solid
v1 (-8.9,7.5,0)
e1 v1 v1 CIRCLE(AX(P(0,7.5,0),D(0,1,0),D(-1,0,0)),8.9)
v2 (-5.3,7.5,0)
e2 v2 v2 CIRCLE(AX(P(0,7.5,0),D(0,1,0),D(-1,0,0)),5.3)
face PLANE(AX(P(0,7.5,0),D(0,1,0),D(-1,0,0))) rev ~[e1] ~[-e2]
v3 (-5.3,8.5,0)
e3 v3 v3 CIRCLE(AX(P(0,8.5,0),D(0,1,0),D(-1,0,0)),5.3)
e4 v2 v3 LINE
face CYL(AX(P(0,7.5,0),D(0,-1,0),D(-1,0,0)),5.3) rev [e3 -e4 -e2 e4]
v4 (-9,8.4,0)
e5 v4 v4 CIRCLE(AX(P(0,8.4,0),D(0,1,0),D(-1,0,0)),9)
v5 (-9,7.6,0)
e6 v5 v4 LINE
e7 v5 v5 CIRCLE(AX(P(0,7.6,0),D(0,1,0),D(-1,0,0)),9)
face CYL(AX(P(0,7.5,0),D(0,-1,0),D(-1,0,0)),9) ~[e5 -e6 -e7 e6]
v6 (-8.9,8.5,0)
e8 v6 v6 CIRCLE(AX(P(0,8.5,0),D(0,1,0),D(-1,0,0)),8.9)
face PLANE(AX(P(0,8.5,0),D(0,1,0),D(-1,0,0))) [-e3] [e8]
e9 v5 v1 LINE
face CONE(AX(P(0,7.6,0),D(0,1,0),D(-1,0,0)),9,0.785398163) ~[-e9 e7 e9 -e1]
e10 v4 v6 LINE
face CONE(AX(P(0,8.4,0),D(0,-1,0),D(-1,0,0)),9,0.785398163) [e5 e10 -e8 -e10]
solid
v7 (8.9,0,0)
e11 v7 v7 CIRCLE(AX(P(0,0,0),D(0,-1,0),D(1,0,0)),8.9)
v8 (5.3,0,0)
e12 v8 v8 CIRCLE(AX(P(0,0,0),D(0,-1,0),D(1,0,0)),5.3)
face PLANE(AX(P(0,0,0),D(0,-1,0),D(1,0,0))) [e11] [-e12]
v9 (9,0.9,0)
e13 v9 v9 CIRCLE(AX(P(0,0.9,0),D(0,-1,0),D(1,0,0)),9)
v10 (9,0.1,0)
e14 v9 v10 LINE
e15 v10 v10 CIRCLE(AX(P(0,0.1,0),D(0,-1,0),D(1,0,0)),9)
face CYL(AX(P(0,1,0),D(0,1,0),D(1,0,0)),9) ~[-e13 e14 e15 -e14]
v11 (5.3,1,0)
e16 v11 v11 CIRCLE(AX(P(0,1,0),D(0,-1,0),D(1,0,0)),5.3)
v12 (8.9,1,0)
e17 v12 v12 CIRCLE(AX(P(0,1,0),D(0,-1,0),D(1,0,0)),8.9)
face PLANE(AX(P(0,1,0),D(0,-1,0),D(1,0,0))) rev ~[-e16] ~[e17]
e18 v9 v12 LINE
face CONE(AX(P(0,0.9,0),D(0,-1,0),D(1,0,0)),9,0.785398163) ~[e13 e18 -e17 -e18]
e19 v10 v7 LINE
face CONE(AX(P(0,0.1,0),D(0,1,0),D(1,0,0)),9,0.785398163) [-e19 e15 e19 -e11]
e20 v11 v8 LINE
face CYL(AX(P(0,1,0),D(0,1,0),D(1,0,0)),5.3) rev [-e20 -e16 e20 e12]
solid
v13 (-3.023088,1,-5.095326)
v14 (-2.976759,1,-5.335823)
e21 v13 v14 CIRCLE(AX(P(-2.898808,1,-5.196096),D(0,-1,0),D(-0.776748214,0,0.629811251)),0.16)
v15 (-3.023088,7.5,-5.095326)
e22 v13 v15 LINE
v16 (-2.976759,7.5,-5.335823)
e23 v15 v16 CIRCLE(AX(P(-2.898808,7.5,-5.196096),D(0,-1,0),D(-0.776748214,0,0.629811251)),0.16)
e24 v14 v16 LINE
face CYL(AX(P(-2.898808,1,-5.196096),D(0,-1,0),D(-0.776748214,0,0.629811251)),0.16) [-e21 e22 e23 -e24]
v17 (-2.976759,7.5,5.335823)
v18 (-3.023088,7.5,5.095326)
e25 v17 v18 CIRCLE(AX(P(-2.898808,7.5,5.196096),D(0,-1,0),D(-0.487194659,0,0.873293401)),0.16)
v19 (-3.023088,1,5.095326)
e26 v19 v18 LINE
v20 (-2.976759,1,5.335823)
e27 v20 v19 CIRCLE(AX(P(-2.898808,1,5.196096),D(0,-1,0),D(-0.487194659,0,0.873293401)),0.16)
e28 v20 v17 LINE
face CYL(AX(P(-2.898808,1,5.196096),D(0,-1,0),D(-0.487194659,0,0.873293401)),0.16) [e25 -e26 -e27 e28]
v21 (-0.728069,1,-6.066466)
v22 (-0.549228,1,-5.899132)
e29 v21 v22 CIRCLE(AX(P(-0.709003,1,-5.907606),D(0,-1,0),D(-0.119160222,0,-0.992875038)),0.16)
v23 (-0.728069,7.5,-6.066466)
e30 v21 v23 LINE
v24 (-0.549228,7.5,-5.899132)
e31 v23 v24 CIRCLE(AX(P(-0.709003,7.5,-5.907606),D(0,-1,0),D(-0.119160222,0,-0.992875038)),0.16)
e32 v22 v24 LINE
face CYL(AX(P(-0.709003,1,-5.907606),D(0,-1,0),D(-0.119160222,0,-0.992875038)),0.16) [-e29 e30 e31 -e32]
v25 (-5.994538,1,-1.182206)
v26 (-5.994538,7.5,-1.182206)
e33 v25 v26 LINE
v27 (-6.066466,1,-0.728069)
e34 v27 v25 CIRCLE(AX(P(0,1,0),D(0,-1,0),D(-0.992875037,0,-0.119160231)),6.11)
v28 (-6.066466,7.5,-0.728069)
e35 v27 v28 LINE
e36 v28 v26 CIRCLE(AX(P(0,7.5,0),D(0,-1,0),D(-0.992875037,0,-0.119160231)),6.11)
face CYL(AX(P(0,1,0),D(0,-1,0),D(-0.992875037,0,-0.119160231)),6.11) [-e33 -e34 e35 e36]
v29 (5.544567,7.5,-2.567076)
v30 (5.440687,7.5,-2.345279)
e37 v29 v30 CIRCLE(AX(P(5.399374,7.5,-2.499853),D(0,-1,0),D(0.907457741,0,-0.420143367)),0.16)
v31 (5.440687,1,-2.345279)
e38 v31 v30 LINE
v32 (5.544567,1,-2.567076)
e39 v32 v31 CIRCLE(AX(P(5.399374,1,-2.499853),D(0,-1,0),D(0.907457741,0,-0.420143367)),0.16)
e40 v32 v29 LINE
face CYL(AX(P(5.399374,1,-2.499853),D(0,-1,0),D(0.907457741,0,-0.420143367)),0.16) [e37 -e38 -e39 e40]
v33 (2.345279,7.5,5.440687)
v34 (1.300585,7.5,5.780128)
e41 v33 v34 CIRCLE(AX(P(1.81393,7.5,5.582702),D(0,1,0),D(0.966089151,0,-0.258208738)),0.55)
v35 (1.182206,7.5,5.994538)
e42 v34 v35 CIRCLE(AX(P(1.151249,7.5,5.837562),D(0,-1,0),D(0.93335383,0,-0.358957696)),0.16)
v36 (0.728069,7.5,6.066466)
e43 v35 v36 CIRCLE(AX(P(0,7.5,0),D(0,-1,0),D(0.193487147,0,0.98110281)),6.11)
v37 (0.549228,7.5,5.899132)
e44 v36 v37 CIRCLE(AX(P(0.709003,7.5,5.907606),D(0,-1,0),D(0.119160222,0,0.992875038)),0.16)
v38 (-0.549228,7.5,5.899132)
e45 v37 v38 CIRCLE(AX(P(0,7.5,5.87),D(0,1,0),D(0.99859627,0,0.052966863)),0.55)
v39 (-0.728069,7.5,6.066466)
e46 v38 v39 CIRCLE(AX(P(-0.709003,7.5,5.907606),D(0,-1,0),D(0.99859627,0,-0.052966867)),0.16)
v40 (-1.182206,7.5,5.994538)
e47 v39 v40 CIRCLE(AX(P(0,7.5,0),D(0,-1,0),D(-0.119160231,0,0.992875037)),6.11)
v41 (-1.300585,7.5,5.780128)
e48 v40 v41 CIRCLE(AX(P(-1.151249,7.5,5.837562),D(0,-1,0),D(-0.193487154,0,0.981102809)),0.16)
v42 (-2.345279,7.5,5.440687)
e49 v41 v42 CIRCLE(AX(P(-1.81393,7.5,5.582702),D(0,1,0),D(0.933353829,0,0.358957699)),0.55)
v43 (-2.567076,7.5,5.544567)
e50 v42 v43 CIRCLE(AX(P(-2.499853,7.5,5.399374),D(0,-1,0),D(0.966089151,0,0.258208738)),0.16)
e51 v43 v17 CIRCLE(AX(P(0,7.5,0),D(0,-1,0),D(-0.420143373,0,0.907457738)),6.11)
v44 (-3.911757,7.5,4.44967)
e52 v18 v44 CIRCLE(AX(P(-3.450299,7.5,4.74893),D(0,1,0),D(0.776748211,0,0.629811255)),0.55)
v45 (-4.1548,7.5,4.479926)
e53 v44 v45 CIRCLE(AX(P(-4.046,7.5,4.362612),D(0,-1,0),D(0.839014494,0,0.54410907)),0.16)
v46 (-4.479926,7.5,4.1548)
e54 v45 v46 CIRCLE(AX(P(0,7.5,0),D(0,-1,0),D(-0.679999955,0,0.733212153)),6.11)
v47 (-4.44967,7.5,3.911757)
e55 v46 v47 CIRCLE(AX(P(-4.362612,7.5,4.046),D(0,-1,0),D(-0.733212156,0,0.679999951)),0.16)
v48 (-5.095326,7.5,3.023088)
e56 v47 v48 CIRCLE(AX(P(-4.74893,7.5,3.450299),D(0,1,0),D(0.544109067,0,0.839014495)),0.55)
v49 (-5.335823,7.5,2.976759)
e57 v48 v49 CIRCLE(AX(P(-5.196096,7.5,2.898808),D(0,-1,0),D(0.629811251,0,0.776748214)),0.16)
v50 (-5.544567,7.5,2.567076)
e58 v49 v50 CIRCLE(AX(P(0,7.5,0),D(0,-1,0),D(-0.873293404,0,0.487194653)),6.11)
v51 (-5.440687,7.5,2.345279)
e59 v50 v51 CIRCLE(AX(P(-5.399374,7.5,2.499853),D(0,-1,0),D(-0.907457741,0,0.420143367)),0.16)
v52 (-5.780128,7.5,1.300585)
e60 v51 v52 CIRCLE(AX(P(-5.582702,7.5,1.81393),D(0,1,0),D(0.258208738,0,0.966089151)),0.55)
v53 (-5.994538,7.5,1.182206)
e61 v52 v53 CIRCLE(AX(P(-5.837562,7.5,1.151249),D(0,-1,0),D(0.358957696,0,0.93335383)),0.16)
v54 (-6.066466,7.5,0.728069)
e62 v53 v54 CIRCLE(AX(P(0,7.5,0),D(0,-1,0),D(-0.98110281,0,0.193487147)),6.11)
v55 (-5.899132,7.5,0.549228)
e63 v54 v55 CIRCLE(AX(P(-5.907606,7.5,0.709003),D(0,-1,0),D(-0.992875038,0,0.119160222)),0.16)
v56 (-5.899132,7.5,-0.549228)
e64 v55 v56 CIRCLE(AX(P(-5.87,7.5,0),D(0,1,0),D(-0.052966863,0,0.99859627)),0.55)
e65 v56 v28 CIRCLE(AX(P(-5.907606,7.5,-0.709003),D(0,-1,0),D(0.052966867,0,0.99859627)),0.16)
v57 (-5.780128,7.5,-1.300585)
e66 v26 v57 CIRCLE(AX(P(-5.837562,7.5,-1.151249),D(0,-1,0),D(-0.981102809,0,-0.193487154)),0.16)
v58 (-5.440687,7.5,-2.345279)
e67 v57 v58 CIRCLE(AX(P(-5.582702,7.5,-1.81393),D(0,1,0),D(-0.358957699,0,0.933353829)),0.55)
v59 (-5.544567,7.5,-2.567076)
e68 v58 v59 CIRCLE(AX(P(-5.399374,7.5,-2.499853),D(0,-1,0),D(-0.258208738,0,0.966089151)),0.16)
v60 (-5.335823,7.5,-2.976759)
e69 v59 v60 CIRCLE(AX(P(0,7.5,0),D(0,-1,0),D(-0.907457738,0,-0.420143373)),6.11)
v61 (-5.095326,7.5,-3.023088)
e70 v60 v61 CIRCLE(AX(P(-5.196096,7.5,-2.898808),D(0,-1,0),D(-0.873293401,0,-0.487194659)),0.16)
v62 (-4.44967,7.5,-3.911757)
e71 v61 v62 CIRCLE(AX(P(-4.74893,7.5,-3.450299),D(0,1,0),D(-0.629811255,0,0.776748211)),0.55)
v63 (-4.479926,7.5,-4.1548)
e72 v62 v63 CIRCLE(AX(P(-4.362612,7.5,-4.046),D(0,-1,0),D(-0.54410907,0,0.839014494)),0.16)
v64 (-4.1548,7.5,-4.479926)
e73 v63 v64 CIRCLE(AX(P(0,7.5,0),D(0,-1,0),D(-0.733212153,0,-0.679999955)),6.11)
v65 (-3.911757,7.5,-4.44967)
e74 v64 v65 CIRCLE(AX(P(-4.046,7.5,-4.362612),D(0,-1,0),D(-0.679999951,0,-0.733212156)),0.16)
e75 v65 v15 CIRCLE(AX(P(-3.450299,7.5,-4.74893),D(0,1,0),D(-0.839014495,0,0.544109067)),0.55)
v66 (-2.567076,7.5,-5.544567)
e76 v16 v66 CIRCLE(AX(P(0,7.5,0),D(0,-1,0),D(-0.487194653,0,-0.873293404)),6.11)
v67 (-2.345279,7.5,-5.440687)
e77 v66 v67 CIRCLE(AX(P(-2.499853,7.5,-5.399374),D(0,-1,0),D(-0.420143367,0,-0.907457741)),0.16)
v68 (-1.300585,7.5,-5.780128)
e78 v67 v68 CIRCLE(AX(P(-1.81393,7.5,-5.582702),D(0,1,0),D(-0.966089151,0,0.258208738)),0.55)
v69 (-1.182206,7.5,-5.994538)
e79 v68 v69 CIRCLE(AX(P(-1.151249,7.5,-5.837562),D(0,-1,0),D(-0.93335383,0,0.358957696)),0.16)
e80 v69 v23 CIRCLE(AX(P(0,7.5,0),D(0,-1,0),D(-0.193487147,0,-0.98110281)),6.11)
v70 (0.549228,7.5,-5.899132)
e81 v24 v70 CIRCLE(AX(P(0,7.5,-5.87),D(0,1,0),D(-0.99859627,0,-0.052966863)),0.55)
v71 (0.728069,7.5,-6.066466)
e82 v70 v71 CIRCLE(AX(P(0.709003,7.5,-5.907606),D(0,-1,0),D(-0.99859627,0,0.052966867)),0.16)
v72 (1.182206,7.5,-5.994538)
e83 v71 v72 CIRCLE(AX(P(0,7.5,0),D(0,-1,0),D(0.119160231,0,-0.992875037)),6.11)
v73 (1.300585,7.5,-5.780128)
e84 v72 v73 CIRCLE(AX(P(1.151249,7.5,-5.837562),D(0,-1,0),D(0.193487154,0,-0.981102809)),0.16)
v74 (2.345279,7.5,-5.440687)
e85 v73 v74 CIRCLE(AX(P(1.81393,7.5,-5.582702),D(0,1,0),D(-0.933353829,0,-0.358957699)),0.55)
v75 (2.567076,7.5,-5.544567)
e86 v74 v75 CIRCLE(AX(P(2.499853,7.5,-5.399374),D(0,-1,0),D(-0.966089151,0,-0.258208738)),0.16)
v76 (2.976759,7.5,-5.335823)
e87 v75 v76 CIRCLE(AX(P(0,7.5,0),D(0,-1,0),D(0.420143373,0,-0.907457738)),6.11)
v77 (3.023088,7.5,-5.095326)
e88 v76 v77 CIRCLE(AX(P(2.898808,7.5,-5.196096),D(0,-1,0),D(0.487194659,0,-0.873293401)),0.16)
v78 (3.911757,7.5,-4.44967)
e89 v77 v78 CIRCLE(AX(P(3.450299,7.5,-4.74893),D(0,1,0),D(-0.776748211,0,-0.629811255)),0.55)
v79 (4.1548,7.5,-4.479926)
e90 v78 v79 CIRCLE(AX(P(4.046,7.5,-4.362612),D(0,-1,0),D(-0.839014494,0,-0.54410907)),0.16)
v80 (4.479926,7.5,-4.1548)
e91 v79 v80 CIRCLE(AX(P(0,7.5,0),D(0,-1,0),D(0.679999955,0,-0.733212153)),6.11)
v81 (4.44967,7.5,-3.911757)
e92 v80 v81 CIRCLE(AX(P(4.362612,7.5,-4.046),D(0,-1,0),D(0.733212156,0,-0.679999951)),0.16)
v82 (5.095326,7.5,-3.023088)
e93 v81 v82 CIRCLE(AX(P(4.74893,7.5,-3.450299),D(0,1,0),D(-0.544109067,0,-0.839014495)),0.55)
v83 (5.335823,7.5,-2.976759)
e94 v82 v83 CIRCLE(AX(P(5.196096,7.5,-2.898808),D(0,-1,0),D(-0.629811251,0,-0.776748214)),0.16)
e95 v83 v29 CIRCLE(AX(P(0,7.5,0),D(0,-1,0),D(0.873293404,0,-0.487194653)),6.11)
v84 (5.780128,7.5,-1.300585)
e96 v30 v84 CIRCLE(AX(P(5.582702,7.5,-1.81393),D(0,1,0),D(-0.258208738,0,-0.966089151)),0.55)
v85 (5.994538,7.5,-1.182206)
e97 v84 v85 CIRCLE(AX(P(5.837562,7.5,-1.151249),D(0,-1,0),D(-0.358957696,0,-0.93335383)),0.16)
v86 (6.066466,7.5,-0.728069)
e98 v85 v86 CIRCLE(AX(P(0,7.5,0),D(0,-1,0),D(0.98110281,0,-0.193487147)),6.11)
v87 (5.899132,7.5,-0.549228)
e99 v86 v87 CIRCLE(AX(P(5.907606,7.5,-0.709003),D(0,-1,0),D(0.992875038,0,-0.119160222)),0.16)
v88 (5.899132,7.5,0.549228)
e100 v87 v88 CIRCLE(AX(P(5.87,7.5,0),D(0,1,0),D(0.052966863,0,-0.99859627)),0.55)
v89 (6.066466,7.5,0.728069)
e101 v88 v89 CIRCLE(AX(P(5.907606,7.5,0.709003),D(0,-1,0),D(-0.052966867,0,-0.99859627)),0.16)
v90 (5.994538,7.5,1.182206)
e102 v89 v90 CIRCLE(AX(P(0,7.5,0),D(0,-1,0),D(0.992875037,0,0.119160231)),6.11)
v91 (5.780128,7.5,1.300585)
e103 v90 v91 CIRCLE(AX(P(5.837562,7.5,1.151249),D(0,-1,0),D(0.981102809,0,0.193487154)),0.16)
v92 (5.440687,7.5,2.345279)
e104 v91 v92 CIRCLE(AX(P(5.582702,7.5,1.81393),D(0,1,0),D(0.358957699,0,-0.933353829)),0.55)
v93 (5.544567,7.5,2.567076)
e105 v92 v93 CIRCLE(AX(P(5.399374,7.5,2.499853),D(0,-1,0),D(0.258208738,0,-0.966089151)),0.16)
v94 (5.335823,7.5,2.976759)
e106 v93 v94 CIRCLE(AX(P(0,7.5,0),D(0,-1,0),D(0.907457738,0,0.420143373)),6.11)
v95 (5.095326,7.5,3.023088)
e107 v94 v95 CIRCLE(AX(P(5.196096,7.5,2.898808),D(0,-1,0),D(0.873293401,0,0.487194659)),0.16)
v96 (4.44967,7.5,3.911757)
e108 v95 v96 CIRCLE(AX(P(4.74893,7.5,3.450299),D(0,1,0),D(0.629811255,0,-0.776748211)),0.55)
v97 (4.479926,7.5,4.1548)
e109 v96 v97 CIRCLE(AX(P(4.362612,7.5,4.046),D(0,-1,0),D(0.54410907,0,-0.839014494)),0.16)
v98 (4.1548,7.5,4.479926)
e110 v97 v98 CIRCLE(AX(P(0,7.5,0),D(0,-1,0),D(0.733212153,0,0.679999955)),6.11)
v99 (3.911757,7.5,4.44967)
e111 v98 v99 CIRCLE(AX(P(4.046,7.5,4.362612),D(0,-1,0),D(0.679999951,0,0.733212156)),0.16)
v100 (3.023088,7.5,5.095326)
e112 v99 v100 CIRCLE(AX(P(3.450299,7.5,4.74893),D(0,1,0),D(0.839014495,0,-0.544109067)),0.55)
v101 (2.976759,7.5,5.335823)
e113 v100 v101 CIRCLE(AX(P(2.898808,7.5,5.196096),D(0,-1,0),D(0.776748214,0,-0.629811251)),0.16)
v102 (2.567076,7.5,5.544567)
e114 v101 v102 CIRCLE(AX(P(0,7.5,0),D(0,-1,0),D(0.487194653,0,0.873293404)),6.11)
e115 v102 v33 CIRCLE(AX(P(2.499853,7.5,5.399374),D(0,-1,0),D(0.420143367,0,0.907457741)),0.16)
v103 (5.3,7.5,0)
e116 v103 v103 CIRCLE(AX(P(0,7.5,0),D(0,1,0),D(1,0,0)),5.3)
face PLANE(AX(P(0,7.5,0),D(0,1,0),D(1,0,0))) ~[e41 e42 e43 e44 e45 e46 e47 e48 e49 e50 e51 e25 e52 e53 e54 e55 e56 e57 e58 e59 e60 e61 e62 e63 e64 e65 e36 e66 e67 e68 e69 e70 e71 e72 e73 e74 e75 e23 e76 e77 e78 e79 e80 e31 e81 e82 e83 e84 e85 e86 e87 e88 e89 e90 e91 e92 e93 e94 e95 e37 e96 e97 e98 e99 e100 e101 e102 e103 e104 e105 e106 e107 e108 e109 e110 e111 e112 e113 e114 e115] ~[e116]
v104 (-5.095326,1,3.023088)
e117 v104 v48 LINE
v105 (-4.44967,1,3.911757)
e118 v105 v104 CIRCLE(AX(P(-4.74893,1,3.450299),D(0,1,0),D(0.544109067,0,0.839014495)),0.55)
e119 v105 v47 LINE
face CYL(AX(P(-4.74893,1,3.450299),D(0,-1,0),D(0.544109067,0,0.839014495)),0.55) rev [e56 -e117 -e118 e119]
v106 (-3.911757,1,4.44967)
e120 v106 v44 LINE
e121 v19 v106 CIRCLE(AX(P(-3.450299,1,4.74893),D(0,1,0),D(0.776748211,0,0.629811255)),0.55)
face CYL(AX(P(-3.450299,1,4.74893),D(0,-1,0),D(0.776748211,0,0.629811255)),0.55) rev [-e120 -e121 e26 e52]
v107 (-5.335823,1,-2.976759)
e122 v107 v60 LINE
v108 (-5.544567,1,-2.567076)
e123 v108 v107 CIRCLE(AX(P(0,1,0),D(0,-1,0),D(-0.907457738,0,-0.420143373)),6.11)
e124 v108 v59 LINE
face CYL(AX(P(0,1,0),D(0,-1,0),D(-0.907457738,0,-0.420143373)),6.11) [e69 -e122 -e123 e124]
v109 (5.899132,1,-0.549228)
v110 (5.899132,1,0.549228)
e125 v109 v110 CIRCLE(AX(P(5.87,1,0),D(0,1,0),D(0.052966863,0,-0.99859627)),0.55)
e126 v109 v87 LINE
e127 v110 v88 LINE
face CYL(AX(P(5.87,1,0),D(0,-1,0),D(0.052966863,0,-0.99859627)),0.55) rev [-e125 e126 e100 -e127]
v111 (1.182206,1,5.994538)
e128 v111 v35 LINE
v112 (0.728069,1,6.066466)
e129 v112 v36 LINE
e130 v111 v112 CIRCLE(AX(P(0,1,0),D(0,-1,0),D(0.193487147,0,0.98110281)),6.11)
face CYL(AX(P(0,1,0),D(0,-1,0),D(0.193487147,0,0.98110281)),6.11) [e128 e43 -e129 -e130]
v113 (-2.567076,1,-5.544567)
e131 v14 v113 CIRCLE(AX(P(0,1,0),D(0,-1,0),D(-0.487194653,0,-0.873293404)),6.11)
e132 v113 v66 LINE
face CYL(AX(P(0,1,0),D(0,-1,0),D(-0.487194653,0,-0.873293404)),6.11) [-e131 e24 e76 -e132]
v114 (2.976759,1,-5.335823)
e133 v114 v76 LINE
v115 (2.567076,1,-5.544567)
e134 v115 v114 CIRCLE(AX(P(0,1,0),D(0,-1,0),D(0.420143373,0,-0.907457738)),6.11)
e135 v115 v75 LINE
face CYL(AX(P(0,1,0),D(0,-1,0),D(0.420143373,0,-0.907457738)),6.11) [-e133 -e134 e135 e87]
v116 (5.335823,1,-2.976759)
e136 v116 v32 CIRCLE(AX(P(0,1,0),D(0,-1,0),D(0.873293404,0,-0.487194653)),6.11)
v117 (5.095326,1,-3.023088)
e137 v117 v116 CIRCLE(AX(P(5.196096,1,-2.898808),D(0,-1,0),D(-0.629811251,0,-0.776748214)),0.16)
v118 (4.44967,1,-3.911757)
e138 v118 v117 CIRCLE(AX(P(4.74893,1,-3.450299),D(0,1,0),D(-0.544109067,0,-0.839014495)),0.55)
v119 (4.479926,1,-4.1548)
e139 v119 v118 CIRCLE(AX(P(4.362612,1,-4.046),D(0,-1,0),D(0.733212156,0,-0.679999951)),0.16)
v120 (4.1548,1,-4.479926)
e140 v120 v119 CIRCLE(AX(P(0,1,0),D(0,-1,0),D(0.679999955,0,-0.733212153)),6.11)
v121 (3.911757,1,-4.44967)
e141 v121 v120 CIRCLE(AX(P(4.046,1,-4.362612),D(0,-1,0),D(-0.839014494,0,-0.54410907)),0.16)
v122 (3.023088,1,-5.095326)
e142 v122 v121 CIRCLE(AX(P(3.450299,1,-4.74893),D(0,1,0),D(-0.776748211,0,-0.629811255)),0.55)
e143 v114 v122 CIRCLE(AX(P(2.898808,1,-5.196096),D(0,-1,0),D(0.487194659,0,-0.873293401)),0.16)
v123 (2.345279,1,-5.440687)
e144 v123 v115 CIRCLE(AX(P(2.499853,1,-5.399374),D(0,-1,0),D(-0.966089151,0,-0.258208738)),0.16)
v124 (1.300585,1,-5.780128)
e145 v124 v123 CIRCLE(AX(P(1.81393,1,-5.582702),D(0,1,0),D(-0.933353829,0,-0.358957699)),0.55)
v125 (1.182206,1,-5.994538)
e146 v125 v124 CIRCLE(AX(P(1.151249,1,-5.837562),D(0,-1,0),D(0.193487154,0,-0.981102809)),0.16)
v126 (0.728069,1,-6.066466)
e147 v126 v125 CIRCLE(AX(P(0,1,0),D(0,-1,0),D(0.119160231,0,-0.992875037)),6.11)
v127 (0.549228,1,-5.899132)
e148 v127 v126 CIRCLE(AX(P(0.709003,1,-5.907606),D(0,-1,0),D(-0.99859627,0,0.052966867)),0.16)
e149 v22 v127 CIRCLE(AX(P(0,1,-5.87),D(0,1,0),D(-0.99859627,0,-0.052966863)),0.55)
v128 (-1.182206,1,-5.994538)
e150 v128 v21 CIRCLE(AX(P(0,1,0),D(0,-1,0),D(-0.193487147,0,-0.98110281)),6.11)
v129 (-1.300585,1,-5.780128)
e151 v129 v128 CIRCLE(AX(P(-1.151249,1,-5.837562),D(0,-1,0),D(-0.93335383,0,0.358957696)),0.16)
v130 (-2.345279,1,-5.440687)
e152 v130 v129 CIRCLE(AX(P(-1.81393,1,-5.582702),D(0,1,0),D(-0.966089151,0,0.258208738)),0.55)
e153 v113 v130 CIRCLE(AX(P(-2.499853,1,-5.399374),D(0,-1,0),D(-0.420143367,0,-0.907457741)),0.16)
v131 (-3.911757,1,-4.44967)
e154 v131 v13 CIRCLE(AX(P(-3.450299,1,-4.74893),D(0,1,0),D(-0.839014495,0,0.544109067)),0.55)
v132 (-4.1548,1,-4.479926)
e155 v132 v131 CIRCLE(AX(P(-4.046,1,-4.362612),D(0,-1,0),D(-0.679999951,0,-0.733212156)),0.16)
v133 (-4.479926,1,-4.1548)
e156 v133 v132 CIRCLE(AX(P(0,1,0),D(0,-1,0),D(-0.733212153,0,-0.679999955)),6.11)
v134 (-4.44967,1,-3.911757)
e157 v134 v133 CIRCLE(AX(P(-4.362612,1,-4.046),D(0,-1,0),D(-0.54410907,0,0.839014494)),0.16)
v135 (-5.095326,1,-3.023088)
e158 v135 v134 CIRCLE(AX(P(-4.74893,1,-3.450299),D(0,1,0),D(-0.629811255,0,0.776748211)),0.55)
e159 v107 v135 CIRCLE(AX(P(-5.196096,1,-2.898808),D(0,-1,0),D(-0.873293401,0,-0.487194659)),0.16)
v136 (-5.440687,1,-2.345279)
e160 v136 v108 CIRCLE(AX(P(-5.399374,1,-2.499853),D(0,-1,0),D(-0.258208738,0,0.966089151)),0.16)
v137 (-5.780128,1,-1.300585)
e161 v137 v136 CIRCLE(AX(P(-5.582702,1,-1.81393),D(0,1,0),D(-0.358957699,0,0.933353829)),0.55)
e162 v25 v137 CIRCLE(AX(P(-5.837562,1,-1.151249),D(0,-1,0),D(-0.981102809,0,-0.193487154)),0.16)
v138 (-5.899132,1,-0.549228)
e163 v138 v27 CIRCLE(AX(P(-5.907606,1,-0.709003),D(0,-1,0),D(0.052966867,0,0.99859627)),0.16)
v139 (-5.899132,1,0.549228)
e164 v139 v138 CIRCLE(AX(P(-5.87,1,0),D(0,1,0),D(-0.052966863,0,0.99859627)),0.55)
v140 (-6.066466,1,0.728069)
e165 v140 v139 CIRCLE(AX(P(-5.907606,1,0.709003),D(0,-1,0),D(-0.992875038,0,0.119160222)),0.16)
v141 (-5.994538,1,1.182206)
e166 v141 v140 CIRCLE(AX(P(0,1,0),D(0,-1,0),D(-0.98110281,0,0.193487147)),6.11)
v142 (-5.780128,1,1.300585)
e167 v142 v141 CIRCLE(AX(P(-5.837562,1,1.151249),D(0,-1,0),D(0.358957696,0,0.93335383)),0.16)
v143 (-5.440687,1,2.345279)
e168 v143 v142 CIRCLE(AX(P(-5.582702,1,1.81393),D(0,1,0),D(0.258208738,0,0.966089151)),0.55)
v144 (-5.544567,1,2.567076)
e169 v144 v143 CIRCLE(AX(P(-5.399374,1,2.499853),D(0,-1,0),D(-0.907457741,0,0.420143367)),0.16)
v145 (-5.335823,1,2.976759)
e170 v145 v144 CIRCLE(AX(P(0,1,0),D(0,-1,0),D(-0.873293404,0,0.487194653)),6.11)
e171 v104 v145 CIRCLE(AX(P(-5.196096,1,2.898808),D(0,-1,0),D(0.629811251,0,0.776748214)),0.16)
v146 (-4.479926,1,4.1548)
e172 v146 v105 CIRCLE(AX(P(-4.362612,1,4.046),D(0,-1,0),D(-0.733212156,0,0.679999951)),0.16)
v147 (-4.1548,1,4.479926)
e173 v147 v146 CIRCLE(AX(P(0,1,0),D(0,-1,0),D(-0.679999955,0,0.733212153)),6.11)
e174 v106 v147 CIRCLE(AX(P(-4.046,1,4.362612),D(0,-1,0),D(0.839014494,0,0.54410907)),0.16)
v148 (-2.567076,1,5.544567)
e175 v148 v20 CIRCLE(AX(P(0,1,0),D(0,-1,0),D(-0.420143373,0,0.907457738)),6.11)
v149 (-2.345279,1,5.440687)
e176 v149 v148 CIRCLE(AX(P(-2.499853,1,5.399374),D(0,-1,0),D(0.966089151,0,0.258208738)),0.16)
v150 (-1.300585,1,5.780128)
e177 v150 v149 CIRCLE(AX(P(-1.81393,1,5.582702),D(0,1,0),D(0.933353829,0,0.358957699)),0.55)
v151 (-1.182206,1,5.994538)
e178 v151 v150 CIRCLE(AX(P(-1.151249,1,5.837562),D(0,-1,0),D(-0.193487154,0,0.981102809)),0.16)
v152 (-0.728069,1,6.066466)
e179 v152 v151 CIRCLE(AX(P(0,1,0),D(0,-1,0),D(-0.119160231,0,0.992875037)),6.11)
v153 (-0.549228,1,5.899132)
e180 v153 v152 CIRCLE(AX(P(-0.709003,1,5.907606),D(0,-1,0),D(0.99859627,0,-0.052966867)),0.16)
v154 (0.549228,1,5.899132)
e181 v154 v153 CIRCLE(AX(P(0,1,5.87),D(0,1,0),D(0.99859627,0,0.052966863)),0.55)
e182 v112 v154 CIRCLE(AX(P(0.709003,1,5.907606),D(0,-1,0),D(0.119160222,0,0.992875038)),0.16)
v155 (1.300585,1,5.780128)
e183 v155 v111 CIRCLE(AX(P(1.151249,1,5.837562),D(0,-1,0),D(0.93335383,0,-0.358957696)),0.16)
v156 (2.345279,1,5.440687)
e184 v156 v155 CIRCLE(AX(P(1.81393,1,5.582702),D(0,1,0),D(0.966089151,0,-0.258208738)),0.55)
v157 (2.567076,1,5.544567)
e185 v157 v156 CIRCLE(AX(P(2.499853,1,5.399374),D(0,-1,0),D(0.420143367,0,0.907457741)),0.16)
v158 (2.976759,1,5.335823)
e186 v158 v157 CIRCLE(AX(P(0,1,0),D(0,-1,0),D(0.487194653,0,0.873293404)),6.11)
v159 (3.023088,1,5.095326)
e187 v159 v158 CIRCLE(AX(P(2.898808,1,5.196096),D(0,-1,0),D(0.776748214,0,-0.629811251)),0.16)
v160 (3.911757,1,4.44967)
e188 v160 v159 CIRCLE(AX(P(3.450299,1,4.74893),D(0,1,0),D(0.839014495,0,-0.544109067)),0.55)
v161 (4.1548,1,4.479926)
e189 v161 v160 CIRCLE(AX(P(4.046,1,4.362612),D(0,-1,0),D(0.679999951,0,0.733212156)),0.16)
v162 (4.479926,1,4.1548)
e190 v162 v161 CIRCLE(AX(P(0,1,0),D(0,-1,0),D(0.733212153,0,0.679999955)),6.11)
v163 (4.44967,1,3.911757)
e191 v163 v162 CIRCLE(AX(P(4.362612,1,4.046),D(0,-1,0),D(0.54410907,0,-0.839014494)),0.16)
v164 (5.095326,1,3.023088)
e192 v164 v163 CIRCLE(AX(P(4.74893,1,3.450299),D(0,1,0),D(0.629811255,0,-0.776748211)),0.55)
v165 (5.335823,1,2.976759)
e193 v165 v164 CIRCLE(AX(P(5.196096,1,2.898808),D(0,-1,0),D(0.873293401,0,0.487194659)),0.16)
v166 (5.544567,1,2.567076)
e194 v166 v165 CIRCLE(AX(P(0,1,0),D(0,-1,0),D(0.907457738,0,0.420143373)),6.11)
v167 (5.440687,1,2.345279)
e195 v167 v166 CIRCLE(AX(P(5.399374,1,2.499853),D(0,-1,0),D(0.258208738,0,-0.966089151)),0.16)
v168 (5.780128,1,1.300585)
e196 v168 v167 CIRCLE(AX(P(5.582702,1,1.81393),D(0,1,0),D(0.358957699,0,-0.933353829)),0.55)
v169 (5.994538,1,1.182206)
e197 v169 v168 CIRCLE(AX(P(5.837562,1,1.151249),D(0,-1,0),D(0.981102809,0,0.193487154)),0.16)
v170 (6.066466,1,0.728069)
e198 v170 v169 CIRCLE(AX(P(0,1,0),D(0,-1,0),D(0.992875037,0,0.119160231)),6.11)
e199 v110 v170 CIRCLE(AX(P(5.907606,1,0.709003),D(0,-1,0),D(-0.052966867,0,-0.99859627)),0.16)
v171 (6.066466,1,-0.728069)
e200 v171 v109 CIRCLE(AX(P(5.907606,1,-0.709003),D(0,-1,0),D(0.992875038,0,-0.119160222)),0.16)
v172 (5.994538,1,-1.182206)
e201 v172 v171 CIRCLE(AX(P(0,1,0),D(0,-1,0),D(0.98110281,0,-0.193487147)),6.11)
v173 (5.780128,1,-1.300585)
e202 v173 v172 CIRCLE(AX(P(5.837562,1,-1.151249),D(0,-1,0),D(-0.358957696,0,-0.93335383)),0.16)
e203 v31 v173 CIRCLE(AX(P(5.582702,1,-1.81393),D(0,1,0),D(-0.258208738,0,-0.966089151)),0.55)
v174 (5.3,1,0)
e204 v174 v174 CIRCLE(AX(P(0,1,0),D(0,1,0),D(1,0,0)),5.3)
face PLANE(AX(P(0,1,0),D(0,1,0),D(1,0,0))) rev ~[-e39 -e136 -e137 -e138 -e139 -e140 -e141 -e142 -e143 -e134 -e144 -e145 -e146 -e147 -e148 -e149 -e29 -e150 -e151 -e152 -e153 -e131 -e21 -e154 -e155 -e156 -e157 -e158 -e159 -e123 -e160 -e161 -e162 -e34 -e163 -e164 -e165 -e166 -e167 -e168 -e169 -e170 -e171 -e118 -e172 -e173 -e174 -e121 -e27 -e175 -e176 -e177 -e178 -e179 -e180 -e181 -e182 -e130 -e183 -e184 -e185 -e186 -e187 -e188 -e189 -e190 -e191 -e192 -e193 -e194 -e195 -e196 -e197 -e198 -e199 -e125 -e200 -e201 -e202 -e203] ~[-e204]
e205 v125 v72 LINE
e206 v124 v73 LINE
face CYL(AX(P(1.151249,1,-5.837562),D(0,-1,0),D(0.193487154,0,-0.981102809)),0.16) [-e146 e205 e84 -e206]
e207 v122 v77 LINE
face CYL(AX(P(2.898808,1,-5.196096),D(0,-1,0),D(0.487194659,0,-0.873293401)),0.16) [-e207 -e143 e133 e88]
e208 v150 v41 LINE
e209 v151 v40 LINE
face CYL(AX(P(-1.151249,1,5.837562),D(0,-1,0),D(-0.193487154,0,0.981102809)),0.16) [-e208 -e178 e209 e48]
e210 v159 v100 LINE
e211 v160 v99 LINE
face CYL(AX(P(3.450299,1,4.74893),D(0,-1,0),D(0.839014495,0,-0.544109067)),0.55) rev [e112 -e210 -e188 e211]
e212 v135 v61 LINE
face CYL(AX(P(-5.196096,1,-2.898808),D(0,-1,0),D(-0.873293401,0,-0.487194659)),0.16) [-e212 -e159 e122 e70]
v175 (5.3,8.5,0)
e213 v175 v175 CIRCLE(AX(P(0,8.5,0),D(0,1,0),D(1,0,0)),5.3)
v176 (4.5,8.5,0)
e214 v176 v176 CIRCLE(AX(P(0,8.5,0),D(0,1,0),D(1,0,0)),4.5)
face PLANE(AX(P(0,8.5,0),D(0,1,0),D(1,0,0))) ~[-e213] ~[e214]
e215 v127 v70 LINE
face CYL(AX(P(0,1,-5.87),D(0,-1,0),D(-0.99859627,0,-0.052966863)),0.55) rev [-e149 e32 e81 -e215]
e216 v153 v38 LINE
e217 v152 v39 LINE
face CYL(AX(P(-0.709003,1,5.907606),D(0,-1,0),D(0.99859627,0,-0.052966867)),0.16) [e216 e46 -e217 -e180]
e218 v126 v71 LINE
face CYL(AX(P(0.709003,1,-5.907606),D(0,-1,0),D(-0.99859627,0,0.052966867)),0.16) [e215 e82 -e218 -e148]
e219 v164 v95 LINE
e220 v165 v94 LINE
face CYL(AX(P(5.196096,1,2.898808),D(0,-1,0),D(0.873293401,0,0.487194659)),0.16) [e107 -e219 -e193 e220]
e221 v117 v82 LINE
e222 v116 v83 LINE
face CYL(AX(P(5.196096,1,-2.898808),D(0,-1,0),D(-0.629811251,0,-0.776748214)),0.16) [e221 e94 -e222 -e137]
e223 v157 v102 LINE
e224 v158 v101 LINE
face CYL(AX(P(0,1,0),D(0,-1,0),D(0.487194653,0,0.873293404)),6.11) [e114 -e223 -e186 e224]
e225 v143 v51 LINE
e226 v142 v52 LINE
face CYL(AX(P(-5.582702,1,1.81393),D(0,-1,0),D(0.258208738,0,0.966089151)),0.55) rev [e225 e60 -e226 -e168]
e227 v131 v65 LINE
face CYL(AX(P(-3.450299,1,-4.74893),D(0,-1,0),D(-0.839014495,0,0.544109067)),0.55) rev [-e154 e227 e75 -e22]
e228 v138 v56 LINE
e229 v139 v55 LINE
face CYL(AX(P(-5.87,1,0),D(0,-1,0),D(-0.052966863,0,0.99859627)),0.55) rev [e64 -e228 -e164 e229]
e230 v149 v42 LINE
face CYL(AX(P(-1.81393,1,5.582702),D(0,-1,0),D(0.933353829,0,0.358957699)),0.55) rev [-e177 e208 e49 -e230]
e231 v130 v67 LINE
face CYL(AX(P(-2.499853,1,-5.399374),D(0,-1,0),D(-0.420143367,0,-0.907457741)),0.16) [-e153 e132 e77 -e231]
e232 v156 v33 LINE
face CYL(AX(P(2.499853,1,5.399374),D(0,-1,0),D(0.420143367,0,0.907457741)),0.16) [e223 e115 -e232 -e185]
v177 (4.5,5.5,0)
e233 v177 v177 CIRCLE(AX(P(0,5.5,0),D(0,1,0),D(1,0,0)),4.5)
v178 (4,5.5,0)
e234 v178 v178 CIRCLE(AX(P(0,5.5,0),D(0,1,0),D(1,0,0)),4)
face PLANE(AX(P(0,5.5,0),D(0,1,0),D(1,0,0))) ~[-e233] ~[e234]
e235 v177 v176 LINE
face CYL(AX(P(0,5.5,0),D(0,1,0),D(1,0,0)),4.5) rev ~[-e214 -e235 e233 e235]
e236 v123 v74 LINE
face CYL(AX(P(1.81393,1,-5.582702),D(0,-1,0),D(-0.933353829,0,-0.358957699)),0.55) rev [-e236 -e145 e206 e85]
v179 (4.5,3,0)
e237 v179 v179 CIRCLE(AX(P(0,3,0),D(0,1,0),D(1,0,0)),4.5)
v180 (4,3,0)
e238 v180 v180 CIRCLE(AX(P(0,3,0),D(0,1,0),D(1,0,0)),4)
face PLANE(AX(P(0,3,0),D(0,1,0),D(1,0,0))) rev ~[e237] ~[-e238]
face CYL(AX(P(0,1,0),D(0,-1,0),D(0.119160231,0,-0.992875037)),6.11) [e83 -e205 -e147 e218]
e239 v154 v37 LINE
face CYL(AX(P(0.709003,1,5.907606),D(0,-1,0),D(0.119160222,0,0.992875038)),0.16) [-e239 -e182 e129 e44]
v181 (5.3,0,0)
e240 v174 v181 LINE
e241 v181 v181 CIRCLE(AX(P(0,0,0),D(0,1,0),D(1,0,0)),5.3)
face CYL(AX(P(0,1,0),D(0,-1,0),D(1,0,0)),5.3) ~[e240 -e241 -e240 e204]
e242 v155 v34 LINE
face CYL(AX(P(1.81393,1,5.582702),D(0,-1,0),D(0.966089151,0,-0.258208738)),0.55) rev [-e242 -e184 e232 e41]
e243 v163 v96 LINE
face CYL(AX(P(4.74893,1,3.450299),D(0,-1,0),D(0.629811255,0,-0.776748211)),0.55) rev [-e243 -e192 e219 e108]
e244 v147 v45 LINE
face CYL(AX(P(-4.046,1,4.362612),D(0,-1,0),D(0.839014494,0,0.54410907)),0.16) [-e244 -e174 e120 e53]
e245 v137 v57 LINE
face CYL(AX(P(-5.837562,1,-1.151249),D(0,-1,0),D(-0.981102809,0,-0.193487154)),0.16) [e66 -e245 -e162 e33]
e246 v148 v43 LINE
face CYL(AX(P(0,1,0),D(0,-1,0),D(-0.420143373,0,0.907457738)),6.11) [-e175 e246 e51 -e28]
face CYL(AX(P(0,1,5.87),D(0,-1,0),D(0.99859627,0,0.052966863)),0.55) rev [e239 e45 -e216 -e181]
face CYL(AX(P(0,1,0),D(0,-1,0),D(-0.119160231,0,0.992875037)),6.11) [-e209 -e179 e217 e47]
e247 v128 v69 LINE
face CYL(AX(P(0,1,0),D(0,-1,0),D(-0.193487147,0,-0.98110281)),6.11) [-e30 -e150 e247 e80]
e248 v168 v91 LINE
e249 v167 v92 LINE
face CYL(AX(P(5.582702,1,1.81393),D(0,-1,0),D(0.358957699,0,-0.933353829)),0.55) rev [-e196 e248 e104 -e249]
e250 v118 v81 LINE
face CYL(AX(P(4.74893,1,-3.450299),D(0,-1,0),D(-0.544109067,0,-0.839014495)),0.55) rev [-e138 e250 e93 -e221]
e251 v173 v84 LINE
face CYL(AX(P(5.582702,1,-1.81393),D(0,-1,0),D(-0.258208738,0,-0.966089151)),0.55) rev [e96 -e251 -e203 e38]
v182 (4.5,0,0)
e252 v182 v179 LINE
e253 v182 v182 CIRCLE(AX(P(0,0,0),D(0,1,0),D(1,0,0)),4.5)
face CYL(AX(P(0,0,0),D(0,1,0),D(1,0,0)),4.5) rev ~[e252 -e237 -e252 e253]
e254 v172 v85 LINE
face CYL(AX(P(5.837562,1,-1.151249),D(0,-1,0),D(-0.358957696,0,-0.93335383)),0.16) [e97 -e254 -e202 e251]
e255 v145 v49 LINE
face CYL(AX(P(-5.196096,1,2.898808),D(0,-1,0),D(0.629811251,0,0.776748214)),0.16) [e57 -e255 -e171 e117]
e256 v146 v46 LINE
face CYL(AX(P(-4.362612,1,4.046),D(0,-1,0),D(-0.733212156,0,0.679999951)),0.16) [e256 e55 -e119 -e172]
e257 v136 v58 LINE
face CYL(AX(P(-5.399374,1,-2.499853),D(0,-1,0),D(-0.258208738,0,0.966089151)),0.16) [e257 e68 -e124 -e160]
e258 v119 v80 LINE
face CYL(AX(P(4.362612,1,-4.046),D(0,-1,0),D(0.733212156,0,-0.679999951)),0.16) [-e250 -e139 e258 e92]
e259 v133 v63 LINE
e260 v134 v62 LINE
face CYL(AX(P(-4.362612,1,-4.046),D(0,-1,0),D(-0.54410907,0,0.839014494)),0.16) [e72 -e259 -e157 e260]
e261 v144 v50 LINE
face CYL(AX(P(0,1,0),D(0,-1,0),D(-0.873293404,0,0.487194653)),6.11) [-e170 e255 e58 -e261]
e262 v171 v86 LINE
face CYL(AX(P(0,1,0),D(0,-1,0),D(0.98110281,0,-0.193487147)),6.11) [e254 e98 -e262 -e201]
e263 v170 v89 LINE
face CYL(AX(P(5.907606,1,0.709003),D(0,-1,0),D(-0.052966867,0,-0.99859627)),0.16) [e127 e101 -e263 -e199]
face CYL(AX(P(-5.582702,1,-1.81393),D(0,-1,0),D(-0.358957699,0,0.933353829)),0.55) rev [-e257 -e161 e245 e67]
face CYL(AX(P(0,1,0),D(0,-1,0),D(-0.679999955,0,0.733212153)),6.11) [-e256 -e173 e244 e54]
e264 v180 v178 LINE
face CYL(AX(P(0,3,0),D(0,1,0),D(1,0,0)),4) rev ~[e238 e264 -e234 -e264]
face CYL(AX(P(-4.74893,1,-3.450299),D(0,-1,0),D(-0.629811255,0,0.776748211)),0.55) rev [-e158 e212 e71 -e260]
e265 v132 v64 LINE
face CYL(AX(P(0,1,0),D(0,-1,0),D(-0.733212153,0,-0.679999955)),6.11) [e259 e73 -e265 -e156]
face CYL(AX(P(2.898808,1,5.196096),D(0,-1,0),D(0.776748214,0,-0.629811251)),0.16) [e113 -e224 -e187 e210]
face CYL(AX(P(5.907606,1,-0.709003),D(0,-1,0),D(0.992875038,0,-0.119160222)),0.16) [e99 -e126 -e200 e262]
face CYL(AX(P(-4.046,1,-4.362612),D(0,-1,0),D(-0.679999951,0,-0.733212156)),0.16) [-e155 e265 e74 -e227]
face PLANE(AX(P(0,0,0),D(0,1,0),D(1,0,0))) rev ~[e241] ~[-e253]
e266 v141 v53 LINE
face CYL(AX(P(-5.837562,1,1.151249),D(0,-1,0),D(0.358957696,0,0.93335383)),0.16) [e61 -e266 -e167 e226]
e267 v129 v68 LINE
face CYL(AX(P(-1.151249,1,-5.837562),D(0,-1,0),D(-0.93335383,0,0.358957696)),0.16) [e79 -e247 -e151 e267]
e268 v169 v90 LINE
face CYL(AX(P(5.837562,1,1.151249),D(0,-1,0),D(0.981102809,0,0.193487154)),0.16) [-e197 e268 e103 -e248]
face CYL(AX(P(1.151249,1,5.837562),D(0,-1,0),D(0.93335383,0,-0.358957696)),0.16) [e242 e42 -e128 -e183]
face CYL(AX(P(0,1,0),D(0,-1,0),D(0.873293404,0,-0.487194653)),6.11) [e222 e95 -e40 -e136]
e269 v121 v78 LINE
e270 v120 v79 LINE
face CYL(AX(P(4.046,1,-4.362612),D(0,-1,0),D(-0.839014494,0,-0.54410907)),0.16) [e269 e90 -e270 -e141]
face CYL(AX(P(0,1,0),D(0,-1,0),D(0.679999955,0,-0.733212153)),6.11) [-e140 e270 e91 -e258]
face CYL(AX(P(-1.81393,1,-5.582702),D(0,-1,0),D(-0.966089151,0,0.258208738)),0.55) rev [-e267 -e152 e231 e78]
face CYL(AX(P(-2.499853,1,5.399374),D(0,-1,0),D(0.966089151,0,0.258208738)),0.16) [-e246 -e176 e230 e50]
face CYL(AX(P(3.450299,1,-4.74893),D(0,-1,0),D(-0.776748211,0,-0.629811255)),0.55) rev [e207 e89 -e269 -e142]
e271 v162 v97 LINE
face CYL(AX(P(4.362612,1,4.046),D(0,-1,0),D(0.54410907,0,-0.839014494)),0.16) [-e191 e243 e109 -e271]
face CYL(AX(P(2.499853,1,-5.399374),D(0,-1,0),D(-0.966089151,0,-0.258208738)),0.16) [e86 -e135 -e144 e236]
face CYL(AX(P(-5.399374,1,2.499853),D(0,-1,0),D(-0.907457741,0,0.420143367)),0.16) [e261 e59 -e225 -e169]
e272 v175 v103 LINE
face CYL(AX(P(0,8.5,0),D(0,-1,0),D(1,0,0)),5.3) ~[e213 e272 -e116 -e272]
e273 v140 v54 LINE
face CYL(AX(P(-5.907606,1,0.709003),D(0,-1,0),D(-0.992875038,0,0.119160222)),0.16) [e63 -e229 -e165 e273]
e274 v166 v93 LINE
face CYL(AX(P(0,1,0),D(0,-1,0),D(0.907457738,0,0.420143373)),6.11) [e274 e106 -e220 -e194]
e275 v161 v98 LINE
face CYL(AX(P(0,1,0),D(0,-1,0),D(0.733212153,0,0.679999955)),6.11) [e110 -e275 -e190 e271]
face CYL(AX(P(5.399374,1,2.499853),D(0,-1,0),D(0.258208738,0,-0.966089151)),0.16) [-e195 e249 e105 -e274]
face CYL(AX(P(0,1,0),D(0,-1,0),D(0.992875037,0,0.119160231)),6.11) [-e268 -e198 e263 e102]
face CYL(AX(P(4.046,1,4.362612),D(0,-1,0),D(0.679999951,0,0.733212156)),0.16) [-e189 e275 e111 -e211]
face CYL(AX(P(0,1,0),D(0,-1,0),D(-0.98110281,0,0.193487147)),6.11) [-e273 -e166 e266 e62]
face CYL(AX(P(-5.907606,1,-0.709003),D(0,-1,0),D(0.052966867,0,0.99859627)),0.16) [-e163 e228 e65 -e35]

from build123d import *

# Parameters (mm, degrees)
ODEBRAT_START            = -6.5
SKICA2_R                 = 9
ODEBRAT_VYSUNUT_M1_DEPTH = 6.5
SKICA3_R                 = 9
SKICA3_R_2               = 5.3
P_IDAT_VYSUNUT_M1_DEPTH  = 1
SKICA5_R                 = 9
SKICA5_R_2               = 5.3
P_IDAT_VYSUNUT_M2_DEPTH  = 1
ZKOSEN_1_SIZE            = 0.1
ZKOSEN_2_SIZE            = 0.1


with BuildPart() as part:
    # Skica1 → Rotovat1 (revolve)
    with BuildSketch(Plane.XY):
        Polygon((4.5, 8.5), (5.3, 8.5), (5.3, 7.5), (9, 7.5), (9, 1), (5.3, 1), (5.3, 0), (4.5, 0), (4.5, 3), (4, 3), (4, 5.5), (4.5, 5.5), align=None)
    revolve(axis=Axis((0, 0, 0), (0, 1, 0)))

    # Skica2 → Odebrat vysunutím1 (cut)
    with BuildSketch(Plane(origin=(0, 7.5, 0), x_dir=(1, 0, 0), z_dir=(0, 1, 0)).offset(ODEBRAT_START)):
        Circle(SKICA2_R)
        with BuildLine():
            ThreePointArc((-0.549227949, 5.899131775), (0, 5.32), (0.549227949, 5.899131775))
            ThreePointArc((0.549227949, 5.899131775), (0.599687134, 6.024439536), (0.728068988, 6.06646648))
            ThreePointArc((0.728068988, 6.06646648), (0.955814581, 6.034775761), (1.182206482, 5.994538167))
            ThreePointArc((1.182206482, 5.994538167), (1.291317841, 5.914895994), (1.300585151, 5.780128485))
            ThreePointArc((1.300585151, 5.780128485), (1.64397041, 5.059620667), (2.34527879, 5.440686945))
            ThreePointArc((2.34527879, 5.440686945), (2.431990555, 5.544268962), (2.567075994, 5.544566786))
            ThreePointArc((2.567075994, 5.544566786), (2.773881953, 5.444049863), (2.976759346, 5.335822692))
            ThreePointArc((2.976759346, 5.335822692), (3.05591963, 5.22636122), (3.023087915, 5.095325947))
            ThreePointArc((3.023087915, 5.095325947), (3.127017542, 4.30397041), (3.911757403, 4.44966977))
            ThreePointArc((3.911757403, 4.44966977), (4.026233796, 4.521386713), (4.154799715, 4.479926264))
            ThreePointArc((4.154799715, 4.479926264), (4.320422433, 4.320422433), (4.479926264, 4.154799715))
            ThreePointArc((4.479926264, 4.154799715), (4.521386713, 4.026233796), (4.44966977, 3.911757403))
            ThreePointArc((4.44966977, 3.911757403), (4.30397041, 3.127017542), (5.095325947, 3.023087915))
            ThreePointArc((5.095325947, 3.023087915), (5.22636122, 3.05591963), (5.335822692, 2.976759346))
            ThreePointArc((5.335822692, 2.976759346), (5.444049863, 2.773881953), (5.544566786, 2.567075994))
            ThreePointArc((5.544566786, 2.567075994), (5.544268962, 2.431990555), (5.440686945, 2.34527879))
            ThreePointArc((5.440686945, 2.34527879), (5.059620667, 1.64397041), (5.780128485, 1.300585151))
            ThreePointArc((5.780128485, 1.300585151), (5.914895994, 1.291317841), (5.994538167, 1.182206482))
            ThreePointArc((5.994538167, 1.182206482), (6.034775761, 0.955814581), (6.06646648, 0.728068988))
            ThreePointArc((6.06646648, 0.728068988), (6.024439536, 0.599687134), (5.899131775, 0.549227949))
            ThreePointArc((5.899131775, 0.549227949), (5.32, 0), (5.899131775, -0.549227949))
            ThreePointArc((5.899131775, -0.549227949), (6.024439536, -0.599687134), (6.06646648, -0.728068988))
            ThreePointArc((6.06646648, -0.728068988), (6.034775761, -0.955814581), (5.994538167, -1.182206482))
            ThreePointArc((5.994538167, -1.182206482), (5.914895994, -1.291317841), (5.780128485, -1.300585151))
            ThreePointArc((5.780128485, -1.300585151), (5.059620667, -1.64397041), (5.440686945, -2.34527879))
            ThreePointArc((5.440686945, -2.34527879), (5.544268962, -2.431990555), (5.544566786, -2.567075994))
            ThreePointArc((5.544566786, -2.567075994), (5.444049863, -2.773881953), (5.335822692, -2.976759346))
            ThreePointArc((5.335822692, -2.976759346), (5.22636122, -3.05591963), (5.095325947, -3.023087915))
            ThreePointArc((5.095325947, -3.023087915), (4.30397041, -3.127017542), (4.44966977, -3.911757403))
            ThreePointArc((4.44966977, -3.911757403), (4.521386713, -4.026233796), (4.479926264, -4.154799715))
            ThreePointArc((4.479926264, -4.154799715), (4.320422433, -4.320422433), (4.154799715, -4.479926264))
            ThreePointArc((4.154799715, -4.479926264), (4.026233796, -4.521386713), (3.911757403, -4.44966977))
            ThreePointArc((3.911757403, -4.44966977), (3.127017542, -4.30397041), (3.023087915, -5.095325947))
            ThreePointArc((3.023087915, -5.095325947), (3.05591963, -5.22636122), (2.976759346, -5.335822692))
            ThreePointArc((2.976759346, -5.335822692), (2.773881953, -5.444049863), (2.567075994, -5.544566786))
            ThreePointArc((2.567075994, -5.544566786), (2.431990555, -5.544268962), (2.34527879, -5.440686945))
            ThreePointArc((2.34527879, -5.440686945), (1.64397041, -5.059620667), (1.300585151, -5.780128485))
            ThreePointArc((1.300585151, -5.780128485), (1.291317841, -5.914895994), (1.182206482, -5.994538167))
            ThreePointArc((1.182206482, -5.994538167), (0.955814581, -6.034775761), (0.728068988, -6.06646648))
            ThreePointArc((0.728068988, -6.06646648), (0.599687134, -6.024439536), (0.549227949, -5.899131775))
            ThreePointArc((0.549227949, -5.899131775), (0, -5.32), (-0.549227949, -5.899131775))
            ThreePointArc((-0.549227949, -5.899131775), (-0.599687134, -6.024439536), (-0.728068988, -6.06646648))
            ThreePointArc((-0.728068988, -6.06646648), (-0.955814581, -6.034775761), (-1.182206482, -5.994538167))
            ThreePointArc((-1.182206482, -5.994538167), (-1.291317841, -5.914895994), (-1.300585151, -5.780128485))
            ThreePointArc((-1.300585151, -5.780128485), (-1.64397041, -5.059620667), (-2.34527879, -5.440686945))
            ThreePointArc((-2.34527879, -5.440686945), (-2.431990555, -5.544268962), (-2.567075994, -5.544566786))
            ThreePointArc((-2.567075994, -5.544566786), (-2.773881953, -5.444049863), (-2.976759346, -5.335822692))
            ThreePointArc((-2.976759346, -5.335822692), (-3.05591963, -5.22636122), (-3.023087915, -5.095325947))
            ThreePointArc((-3.023087915, -5.095325947), (-3.127017542, -4.30397041), (-3.911757403, -4.44966977))
            ThreePointArc((-3.911757403, -4.44966977), (-4.026233796, -4.521386713), (-4.154799715, -4.479926264))
            ThreePointArc((-4.154799715, -4.479926264), (-4.320422433, -4.320422433), (-4.479926264, -4.154799715))
            ThreePointArc((-4.479926264, -4.154799715), (-4.521386713, -4.026233796), (-4.44966977, -3.911757403))
            ThreePointArc((-4.44966977, -3.911757403), (-4.30397041, -3.127017542), (-5.095325947, -3.023087915))
            ThreePointArc((-5.095325947, -3.023087915), (-5.22636122, -3.05591963), (-5.335822692, -2.976759346))
            ThreePointArc((-5.335822692, -2.976759346), (-5.444049863, -2.773881953), (-5.544566786, -2.567075994))
            ThreePointArc((-5.544566786, -2.567075994), (-5.544268962, -2.431990555), (-5.440686945, -2.34527879))
            ThreePointArc((-5.440686945, -2.34527879), (-5.059620667, -1.64397041), (-5.780128485, -1.300585151))
            ThreePointArc((-5.780128485, -1.300585151), (-5.914895994, -1.291317841), (-5.994538167, -1.182206482))
            ThreePointArc((-5.994538167, -1.182206482), (-6.034775761, -0.955814581), (-6.06646648, -0.728068988))
            ThreePointArc((-6.06646648, -0.728068988), (-6.024439536, -0.599687134), (-5.899131775, -0.549227949))
            ThreePointArc((-5.899131775, -0.549227949), (-5.32, 0), (-5.899131775, 0.549227949))
            ThreePointArc((-5.899131775, 0.549227949), (-6.024439536, 0.599687134), (-6.06646648, 0.728068988))
            ThreePointArc((-6.06646648, 0.728068988), (-6.034775761, 0.955814581), (-5.994538167, 1.182206482))
            ThreePointArc((-5.994538167, 1.182206482), (-5.914895994, 1.291317841), (-5.780128485, 1.300585151))
            ThreePointArc((-5.780128485, 1.300585151), (-5.059620667, 1.64397041), (-5.440686945, 2.34527879))
            ThreePointArc((-5.440686945, 2.34527879), (-5.544268962, 2.431990555), (-5.544566786, 2.567075994))
            ThreePointArc((-5.544566786, 2.567075994), (-5.444049863, 2.773881953), (-5.335822692, 2.976759346))
            ThreePointArc((-5.335822692, 2.976759346), (-5.22636122, 3.05591963), (-5.095325947, 3.023087915))
            ThreePointArc((-5.095325947, 3.023087915), (-4.30397041, 3.127017542), (-4.44966977, 3.911757403))
            ThreePointArc((-4.44966977, 3.911757403), (-4.521386713, 4.026233796), (-4.479926264, 4.154799715))
            ThreePointArc((-4.479926264, 4.154799715), (-4.320422433, 4.320422433), (-4.154799715, 4.479926264))
            ThreePointArc((-4.154799715, 4.479926264), (-4.026233796, 4.521386713), (-3.911757403, 4.44966977))
            ThreePointArc((-3.911757403, 4.44966977), (-3.127017542, 4.30397041), (-3.023087915, 5.095325947))
            ThreePointArc((-3.023087915, 5.095325947), (-3.05591963, 5.22636122), (-2.976759346, 5.335822692))
            ThreePointArc((-2.976759346, 5.335822692), (-2.773881953, 5.444049863), (-2.567075994, 5.544566786))
            ThreePointArc((-2.567075994, 5.544566786), (-2.431990555, 5.544268962), (-2.34527879, 5.440686945))
            ThreePointArc((-2.34527879, 5.440686945), (-1.64397041, 5.059620667), (-1.300585151, 5.780128485))
            ThreePointArc((-1.300585151, 5.780128485), (-1.291317841, 5.914895994), (-1.182206482, 5.994538167))
            ThreePointArc((-1.182206482, 5.994538167), (-0.955814581, 6.034775761), (-0.728068988, 6.06646648))
            ThreePointArc((-0.728068988, 6.06646648), (-0.599687134, 6.024439536), (-0.549227949, 5.899131775))
        make_face(mode=Mode.SUBTRACT)
    extrude(amount=ODEBRAT_VYSUNUT_M1_DEPTH, mode=Mode.SUBTRACT)


with BuildPart() as body_2:
    # Skica3 → Přidat vysunutím1 (new body)
    with BuildSketch(Plane(origin=(0, 7.5, 0), x_dir=(1, 0, 0), z_dir=(0, 1, 0))):
        with Locations(Location((0, 0, 0), (0, 0, 180))):
            Circle(SKICA3_R)
        with Locations(Location((0, 0, 0), (0, 0, 180))):
            Circle(SKICA3_R_2, mode=Mode.SUBTRACT)
    extrude(amount=P_IDAT_VYSUNUT_M1_DEPTH)

    # Zkosení1
    zkosen_1_edges = [body_2.edges().sort_by_distance(p)[0] for p in [
        (9, 7.5, 0),
        (9, 8.5, 0),
    ]]
    chamfer(zkosen_1_edges, length=ZKOSEN_1_SIZE)


with BuildPart() as body_3:
    # Skica5 → Přidat vysunutím2 (new body)
    with BuildSketch(Plane.XZ.offset(-1)):
        Circle(SKICA5_R)
        Circle(SKICA5_R_2, mode=Mode.SUBTRACT)
    extrude(amount=P_IDAT_VYSUNUT_M2_DEPTH)

    # Zkosení2
    zkosen_2_edges = [body_3.edges().sort_by_distance(p)[0] for p in [
        (-9, 1, 0),
        (-9, 0, 0),
    ]]
    chamfer(zkosen_2_edges, length=ZKOSEN_2_SIZE)


solid = Compound([part.part, body_2.part, body_3.part])
